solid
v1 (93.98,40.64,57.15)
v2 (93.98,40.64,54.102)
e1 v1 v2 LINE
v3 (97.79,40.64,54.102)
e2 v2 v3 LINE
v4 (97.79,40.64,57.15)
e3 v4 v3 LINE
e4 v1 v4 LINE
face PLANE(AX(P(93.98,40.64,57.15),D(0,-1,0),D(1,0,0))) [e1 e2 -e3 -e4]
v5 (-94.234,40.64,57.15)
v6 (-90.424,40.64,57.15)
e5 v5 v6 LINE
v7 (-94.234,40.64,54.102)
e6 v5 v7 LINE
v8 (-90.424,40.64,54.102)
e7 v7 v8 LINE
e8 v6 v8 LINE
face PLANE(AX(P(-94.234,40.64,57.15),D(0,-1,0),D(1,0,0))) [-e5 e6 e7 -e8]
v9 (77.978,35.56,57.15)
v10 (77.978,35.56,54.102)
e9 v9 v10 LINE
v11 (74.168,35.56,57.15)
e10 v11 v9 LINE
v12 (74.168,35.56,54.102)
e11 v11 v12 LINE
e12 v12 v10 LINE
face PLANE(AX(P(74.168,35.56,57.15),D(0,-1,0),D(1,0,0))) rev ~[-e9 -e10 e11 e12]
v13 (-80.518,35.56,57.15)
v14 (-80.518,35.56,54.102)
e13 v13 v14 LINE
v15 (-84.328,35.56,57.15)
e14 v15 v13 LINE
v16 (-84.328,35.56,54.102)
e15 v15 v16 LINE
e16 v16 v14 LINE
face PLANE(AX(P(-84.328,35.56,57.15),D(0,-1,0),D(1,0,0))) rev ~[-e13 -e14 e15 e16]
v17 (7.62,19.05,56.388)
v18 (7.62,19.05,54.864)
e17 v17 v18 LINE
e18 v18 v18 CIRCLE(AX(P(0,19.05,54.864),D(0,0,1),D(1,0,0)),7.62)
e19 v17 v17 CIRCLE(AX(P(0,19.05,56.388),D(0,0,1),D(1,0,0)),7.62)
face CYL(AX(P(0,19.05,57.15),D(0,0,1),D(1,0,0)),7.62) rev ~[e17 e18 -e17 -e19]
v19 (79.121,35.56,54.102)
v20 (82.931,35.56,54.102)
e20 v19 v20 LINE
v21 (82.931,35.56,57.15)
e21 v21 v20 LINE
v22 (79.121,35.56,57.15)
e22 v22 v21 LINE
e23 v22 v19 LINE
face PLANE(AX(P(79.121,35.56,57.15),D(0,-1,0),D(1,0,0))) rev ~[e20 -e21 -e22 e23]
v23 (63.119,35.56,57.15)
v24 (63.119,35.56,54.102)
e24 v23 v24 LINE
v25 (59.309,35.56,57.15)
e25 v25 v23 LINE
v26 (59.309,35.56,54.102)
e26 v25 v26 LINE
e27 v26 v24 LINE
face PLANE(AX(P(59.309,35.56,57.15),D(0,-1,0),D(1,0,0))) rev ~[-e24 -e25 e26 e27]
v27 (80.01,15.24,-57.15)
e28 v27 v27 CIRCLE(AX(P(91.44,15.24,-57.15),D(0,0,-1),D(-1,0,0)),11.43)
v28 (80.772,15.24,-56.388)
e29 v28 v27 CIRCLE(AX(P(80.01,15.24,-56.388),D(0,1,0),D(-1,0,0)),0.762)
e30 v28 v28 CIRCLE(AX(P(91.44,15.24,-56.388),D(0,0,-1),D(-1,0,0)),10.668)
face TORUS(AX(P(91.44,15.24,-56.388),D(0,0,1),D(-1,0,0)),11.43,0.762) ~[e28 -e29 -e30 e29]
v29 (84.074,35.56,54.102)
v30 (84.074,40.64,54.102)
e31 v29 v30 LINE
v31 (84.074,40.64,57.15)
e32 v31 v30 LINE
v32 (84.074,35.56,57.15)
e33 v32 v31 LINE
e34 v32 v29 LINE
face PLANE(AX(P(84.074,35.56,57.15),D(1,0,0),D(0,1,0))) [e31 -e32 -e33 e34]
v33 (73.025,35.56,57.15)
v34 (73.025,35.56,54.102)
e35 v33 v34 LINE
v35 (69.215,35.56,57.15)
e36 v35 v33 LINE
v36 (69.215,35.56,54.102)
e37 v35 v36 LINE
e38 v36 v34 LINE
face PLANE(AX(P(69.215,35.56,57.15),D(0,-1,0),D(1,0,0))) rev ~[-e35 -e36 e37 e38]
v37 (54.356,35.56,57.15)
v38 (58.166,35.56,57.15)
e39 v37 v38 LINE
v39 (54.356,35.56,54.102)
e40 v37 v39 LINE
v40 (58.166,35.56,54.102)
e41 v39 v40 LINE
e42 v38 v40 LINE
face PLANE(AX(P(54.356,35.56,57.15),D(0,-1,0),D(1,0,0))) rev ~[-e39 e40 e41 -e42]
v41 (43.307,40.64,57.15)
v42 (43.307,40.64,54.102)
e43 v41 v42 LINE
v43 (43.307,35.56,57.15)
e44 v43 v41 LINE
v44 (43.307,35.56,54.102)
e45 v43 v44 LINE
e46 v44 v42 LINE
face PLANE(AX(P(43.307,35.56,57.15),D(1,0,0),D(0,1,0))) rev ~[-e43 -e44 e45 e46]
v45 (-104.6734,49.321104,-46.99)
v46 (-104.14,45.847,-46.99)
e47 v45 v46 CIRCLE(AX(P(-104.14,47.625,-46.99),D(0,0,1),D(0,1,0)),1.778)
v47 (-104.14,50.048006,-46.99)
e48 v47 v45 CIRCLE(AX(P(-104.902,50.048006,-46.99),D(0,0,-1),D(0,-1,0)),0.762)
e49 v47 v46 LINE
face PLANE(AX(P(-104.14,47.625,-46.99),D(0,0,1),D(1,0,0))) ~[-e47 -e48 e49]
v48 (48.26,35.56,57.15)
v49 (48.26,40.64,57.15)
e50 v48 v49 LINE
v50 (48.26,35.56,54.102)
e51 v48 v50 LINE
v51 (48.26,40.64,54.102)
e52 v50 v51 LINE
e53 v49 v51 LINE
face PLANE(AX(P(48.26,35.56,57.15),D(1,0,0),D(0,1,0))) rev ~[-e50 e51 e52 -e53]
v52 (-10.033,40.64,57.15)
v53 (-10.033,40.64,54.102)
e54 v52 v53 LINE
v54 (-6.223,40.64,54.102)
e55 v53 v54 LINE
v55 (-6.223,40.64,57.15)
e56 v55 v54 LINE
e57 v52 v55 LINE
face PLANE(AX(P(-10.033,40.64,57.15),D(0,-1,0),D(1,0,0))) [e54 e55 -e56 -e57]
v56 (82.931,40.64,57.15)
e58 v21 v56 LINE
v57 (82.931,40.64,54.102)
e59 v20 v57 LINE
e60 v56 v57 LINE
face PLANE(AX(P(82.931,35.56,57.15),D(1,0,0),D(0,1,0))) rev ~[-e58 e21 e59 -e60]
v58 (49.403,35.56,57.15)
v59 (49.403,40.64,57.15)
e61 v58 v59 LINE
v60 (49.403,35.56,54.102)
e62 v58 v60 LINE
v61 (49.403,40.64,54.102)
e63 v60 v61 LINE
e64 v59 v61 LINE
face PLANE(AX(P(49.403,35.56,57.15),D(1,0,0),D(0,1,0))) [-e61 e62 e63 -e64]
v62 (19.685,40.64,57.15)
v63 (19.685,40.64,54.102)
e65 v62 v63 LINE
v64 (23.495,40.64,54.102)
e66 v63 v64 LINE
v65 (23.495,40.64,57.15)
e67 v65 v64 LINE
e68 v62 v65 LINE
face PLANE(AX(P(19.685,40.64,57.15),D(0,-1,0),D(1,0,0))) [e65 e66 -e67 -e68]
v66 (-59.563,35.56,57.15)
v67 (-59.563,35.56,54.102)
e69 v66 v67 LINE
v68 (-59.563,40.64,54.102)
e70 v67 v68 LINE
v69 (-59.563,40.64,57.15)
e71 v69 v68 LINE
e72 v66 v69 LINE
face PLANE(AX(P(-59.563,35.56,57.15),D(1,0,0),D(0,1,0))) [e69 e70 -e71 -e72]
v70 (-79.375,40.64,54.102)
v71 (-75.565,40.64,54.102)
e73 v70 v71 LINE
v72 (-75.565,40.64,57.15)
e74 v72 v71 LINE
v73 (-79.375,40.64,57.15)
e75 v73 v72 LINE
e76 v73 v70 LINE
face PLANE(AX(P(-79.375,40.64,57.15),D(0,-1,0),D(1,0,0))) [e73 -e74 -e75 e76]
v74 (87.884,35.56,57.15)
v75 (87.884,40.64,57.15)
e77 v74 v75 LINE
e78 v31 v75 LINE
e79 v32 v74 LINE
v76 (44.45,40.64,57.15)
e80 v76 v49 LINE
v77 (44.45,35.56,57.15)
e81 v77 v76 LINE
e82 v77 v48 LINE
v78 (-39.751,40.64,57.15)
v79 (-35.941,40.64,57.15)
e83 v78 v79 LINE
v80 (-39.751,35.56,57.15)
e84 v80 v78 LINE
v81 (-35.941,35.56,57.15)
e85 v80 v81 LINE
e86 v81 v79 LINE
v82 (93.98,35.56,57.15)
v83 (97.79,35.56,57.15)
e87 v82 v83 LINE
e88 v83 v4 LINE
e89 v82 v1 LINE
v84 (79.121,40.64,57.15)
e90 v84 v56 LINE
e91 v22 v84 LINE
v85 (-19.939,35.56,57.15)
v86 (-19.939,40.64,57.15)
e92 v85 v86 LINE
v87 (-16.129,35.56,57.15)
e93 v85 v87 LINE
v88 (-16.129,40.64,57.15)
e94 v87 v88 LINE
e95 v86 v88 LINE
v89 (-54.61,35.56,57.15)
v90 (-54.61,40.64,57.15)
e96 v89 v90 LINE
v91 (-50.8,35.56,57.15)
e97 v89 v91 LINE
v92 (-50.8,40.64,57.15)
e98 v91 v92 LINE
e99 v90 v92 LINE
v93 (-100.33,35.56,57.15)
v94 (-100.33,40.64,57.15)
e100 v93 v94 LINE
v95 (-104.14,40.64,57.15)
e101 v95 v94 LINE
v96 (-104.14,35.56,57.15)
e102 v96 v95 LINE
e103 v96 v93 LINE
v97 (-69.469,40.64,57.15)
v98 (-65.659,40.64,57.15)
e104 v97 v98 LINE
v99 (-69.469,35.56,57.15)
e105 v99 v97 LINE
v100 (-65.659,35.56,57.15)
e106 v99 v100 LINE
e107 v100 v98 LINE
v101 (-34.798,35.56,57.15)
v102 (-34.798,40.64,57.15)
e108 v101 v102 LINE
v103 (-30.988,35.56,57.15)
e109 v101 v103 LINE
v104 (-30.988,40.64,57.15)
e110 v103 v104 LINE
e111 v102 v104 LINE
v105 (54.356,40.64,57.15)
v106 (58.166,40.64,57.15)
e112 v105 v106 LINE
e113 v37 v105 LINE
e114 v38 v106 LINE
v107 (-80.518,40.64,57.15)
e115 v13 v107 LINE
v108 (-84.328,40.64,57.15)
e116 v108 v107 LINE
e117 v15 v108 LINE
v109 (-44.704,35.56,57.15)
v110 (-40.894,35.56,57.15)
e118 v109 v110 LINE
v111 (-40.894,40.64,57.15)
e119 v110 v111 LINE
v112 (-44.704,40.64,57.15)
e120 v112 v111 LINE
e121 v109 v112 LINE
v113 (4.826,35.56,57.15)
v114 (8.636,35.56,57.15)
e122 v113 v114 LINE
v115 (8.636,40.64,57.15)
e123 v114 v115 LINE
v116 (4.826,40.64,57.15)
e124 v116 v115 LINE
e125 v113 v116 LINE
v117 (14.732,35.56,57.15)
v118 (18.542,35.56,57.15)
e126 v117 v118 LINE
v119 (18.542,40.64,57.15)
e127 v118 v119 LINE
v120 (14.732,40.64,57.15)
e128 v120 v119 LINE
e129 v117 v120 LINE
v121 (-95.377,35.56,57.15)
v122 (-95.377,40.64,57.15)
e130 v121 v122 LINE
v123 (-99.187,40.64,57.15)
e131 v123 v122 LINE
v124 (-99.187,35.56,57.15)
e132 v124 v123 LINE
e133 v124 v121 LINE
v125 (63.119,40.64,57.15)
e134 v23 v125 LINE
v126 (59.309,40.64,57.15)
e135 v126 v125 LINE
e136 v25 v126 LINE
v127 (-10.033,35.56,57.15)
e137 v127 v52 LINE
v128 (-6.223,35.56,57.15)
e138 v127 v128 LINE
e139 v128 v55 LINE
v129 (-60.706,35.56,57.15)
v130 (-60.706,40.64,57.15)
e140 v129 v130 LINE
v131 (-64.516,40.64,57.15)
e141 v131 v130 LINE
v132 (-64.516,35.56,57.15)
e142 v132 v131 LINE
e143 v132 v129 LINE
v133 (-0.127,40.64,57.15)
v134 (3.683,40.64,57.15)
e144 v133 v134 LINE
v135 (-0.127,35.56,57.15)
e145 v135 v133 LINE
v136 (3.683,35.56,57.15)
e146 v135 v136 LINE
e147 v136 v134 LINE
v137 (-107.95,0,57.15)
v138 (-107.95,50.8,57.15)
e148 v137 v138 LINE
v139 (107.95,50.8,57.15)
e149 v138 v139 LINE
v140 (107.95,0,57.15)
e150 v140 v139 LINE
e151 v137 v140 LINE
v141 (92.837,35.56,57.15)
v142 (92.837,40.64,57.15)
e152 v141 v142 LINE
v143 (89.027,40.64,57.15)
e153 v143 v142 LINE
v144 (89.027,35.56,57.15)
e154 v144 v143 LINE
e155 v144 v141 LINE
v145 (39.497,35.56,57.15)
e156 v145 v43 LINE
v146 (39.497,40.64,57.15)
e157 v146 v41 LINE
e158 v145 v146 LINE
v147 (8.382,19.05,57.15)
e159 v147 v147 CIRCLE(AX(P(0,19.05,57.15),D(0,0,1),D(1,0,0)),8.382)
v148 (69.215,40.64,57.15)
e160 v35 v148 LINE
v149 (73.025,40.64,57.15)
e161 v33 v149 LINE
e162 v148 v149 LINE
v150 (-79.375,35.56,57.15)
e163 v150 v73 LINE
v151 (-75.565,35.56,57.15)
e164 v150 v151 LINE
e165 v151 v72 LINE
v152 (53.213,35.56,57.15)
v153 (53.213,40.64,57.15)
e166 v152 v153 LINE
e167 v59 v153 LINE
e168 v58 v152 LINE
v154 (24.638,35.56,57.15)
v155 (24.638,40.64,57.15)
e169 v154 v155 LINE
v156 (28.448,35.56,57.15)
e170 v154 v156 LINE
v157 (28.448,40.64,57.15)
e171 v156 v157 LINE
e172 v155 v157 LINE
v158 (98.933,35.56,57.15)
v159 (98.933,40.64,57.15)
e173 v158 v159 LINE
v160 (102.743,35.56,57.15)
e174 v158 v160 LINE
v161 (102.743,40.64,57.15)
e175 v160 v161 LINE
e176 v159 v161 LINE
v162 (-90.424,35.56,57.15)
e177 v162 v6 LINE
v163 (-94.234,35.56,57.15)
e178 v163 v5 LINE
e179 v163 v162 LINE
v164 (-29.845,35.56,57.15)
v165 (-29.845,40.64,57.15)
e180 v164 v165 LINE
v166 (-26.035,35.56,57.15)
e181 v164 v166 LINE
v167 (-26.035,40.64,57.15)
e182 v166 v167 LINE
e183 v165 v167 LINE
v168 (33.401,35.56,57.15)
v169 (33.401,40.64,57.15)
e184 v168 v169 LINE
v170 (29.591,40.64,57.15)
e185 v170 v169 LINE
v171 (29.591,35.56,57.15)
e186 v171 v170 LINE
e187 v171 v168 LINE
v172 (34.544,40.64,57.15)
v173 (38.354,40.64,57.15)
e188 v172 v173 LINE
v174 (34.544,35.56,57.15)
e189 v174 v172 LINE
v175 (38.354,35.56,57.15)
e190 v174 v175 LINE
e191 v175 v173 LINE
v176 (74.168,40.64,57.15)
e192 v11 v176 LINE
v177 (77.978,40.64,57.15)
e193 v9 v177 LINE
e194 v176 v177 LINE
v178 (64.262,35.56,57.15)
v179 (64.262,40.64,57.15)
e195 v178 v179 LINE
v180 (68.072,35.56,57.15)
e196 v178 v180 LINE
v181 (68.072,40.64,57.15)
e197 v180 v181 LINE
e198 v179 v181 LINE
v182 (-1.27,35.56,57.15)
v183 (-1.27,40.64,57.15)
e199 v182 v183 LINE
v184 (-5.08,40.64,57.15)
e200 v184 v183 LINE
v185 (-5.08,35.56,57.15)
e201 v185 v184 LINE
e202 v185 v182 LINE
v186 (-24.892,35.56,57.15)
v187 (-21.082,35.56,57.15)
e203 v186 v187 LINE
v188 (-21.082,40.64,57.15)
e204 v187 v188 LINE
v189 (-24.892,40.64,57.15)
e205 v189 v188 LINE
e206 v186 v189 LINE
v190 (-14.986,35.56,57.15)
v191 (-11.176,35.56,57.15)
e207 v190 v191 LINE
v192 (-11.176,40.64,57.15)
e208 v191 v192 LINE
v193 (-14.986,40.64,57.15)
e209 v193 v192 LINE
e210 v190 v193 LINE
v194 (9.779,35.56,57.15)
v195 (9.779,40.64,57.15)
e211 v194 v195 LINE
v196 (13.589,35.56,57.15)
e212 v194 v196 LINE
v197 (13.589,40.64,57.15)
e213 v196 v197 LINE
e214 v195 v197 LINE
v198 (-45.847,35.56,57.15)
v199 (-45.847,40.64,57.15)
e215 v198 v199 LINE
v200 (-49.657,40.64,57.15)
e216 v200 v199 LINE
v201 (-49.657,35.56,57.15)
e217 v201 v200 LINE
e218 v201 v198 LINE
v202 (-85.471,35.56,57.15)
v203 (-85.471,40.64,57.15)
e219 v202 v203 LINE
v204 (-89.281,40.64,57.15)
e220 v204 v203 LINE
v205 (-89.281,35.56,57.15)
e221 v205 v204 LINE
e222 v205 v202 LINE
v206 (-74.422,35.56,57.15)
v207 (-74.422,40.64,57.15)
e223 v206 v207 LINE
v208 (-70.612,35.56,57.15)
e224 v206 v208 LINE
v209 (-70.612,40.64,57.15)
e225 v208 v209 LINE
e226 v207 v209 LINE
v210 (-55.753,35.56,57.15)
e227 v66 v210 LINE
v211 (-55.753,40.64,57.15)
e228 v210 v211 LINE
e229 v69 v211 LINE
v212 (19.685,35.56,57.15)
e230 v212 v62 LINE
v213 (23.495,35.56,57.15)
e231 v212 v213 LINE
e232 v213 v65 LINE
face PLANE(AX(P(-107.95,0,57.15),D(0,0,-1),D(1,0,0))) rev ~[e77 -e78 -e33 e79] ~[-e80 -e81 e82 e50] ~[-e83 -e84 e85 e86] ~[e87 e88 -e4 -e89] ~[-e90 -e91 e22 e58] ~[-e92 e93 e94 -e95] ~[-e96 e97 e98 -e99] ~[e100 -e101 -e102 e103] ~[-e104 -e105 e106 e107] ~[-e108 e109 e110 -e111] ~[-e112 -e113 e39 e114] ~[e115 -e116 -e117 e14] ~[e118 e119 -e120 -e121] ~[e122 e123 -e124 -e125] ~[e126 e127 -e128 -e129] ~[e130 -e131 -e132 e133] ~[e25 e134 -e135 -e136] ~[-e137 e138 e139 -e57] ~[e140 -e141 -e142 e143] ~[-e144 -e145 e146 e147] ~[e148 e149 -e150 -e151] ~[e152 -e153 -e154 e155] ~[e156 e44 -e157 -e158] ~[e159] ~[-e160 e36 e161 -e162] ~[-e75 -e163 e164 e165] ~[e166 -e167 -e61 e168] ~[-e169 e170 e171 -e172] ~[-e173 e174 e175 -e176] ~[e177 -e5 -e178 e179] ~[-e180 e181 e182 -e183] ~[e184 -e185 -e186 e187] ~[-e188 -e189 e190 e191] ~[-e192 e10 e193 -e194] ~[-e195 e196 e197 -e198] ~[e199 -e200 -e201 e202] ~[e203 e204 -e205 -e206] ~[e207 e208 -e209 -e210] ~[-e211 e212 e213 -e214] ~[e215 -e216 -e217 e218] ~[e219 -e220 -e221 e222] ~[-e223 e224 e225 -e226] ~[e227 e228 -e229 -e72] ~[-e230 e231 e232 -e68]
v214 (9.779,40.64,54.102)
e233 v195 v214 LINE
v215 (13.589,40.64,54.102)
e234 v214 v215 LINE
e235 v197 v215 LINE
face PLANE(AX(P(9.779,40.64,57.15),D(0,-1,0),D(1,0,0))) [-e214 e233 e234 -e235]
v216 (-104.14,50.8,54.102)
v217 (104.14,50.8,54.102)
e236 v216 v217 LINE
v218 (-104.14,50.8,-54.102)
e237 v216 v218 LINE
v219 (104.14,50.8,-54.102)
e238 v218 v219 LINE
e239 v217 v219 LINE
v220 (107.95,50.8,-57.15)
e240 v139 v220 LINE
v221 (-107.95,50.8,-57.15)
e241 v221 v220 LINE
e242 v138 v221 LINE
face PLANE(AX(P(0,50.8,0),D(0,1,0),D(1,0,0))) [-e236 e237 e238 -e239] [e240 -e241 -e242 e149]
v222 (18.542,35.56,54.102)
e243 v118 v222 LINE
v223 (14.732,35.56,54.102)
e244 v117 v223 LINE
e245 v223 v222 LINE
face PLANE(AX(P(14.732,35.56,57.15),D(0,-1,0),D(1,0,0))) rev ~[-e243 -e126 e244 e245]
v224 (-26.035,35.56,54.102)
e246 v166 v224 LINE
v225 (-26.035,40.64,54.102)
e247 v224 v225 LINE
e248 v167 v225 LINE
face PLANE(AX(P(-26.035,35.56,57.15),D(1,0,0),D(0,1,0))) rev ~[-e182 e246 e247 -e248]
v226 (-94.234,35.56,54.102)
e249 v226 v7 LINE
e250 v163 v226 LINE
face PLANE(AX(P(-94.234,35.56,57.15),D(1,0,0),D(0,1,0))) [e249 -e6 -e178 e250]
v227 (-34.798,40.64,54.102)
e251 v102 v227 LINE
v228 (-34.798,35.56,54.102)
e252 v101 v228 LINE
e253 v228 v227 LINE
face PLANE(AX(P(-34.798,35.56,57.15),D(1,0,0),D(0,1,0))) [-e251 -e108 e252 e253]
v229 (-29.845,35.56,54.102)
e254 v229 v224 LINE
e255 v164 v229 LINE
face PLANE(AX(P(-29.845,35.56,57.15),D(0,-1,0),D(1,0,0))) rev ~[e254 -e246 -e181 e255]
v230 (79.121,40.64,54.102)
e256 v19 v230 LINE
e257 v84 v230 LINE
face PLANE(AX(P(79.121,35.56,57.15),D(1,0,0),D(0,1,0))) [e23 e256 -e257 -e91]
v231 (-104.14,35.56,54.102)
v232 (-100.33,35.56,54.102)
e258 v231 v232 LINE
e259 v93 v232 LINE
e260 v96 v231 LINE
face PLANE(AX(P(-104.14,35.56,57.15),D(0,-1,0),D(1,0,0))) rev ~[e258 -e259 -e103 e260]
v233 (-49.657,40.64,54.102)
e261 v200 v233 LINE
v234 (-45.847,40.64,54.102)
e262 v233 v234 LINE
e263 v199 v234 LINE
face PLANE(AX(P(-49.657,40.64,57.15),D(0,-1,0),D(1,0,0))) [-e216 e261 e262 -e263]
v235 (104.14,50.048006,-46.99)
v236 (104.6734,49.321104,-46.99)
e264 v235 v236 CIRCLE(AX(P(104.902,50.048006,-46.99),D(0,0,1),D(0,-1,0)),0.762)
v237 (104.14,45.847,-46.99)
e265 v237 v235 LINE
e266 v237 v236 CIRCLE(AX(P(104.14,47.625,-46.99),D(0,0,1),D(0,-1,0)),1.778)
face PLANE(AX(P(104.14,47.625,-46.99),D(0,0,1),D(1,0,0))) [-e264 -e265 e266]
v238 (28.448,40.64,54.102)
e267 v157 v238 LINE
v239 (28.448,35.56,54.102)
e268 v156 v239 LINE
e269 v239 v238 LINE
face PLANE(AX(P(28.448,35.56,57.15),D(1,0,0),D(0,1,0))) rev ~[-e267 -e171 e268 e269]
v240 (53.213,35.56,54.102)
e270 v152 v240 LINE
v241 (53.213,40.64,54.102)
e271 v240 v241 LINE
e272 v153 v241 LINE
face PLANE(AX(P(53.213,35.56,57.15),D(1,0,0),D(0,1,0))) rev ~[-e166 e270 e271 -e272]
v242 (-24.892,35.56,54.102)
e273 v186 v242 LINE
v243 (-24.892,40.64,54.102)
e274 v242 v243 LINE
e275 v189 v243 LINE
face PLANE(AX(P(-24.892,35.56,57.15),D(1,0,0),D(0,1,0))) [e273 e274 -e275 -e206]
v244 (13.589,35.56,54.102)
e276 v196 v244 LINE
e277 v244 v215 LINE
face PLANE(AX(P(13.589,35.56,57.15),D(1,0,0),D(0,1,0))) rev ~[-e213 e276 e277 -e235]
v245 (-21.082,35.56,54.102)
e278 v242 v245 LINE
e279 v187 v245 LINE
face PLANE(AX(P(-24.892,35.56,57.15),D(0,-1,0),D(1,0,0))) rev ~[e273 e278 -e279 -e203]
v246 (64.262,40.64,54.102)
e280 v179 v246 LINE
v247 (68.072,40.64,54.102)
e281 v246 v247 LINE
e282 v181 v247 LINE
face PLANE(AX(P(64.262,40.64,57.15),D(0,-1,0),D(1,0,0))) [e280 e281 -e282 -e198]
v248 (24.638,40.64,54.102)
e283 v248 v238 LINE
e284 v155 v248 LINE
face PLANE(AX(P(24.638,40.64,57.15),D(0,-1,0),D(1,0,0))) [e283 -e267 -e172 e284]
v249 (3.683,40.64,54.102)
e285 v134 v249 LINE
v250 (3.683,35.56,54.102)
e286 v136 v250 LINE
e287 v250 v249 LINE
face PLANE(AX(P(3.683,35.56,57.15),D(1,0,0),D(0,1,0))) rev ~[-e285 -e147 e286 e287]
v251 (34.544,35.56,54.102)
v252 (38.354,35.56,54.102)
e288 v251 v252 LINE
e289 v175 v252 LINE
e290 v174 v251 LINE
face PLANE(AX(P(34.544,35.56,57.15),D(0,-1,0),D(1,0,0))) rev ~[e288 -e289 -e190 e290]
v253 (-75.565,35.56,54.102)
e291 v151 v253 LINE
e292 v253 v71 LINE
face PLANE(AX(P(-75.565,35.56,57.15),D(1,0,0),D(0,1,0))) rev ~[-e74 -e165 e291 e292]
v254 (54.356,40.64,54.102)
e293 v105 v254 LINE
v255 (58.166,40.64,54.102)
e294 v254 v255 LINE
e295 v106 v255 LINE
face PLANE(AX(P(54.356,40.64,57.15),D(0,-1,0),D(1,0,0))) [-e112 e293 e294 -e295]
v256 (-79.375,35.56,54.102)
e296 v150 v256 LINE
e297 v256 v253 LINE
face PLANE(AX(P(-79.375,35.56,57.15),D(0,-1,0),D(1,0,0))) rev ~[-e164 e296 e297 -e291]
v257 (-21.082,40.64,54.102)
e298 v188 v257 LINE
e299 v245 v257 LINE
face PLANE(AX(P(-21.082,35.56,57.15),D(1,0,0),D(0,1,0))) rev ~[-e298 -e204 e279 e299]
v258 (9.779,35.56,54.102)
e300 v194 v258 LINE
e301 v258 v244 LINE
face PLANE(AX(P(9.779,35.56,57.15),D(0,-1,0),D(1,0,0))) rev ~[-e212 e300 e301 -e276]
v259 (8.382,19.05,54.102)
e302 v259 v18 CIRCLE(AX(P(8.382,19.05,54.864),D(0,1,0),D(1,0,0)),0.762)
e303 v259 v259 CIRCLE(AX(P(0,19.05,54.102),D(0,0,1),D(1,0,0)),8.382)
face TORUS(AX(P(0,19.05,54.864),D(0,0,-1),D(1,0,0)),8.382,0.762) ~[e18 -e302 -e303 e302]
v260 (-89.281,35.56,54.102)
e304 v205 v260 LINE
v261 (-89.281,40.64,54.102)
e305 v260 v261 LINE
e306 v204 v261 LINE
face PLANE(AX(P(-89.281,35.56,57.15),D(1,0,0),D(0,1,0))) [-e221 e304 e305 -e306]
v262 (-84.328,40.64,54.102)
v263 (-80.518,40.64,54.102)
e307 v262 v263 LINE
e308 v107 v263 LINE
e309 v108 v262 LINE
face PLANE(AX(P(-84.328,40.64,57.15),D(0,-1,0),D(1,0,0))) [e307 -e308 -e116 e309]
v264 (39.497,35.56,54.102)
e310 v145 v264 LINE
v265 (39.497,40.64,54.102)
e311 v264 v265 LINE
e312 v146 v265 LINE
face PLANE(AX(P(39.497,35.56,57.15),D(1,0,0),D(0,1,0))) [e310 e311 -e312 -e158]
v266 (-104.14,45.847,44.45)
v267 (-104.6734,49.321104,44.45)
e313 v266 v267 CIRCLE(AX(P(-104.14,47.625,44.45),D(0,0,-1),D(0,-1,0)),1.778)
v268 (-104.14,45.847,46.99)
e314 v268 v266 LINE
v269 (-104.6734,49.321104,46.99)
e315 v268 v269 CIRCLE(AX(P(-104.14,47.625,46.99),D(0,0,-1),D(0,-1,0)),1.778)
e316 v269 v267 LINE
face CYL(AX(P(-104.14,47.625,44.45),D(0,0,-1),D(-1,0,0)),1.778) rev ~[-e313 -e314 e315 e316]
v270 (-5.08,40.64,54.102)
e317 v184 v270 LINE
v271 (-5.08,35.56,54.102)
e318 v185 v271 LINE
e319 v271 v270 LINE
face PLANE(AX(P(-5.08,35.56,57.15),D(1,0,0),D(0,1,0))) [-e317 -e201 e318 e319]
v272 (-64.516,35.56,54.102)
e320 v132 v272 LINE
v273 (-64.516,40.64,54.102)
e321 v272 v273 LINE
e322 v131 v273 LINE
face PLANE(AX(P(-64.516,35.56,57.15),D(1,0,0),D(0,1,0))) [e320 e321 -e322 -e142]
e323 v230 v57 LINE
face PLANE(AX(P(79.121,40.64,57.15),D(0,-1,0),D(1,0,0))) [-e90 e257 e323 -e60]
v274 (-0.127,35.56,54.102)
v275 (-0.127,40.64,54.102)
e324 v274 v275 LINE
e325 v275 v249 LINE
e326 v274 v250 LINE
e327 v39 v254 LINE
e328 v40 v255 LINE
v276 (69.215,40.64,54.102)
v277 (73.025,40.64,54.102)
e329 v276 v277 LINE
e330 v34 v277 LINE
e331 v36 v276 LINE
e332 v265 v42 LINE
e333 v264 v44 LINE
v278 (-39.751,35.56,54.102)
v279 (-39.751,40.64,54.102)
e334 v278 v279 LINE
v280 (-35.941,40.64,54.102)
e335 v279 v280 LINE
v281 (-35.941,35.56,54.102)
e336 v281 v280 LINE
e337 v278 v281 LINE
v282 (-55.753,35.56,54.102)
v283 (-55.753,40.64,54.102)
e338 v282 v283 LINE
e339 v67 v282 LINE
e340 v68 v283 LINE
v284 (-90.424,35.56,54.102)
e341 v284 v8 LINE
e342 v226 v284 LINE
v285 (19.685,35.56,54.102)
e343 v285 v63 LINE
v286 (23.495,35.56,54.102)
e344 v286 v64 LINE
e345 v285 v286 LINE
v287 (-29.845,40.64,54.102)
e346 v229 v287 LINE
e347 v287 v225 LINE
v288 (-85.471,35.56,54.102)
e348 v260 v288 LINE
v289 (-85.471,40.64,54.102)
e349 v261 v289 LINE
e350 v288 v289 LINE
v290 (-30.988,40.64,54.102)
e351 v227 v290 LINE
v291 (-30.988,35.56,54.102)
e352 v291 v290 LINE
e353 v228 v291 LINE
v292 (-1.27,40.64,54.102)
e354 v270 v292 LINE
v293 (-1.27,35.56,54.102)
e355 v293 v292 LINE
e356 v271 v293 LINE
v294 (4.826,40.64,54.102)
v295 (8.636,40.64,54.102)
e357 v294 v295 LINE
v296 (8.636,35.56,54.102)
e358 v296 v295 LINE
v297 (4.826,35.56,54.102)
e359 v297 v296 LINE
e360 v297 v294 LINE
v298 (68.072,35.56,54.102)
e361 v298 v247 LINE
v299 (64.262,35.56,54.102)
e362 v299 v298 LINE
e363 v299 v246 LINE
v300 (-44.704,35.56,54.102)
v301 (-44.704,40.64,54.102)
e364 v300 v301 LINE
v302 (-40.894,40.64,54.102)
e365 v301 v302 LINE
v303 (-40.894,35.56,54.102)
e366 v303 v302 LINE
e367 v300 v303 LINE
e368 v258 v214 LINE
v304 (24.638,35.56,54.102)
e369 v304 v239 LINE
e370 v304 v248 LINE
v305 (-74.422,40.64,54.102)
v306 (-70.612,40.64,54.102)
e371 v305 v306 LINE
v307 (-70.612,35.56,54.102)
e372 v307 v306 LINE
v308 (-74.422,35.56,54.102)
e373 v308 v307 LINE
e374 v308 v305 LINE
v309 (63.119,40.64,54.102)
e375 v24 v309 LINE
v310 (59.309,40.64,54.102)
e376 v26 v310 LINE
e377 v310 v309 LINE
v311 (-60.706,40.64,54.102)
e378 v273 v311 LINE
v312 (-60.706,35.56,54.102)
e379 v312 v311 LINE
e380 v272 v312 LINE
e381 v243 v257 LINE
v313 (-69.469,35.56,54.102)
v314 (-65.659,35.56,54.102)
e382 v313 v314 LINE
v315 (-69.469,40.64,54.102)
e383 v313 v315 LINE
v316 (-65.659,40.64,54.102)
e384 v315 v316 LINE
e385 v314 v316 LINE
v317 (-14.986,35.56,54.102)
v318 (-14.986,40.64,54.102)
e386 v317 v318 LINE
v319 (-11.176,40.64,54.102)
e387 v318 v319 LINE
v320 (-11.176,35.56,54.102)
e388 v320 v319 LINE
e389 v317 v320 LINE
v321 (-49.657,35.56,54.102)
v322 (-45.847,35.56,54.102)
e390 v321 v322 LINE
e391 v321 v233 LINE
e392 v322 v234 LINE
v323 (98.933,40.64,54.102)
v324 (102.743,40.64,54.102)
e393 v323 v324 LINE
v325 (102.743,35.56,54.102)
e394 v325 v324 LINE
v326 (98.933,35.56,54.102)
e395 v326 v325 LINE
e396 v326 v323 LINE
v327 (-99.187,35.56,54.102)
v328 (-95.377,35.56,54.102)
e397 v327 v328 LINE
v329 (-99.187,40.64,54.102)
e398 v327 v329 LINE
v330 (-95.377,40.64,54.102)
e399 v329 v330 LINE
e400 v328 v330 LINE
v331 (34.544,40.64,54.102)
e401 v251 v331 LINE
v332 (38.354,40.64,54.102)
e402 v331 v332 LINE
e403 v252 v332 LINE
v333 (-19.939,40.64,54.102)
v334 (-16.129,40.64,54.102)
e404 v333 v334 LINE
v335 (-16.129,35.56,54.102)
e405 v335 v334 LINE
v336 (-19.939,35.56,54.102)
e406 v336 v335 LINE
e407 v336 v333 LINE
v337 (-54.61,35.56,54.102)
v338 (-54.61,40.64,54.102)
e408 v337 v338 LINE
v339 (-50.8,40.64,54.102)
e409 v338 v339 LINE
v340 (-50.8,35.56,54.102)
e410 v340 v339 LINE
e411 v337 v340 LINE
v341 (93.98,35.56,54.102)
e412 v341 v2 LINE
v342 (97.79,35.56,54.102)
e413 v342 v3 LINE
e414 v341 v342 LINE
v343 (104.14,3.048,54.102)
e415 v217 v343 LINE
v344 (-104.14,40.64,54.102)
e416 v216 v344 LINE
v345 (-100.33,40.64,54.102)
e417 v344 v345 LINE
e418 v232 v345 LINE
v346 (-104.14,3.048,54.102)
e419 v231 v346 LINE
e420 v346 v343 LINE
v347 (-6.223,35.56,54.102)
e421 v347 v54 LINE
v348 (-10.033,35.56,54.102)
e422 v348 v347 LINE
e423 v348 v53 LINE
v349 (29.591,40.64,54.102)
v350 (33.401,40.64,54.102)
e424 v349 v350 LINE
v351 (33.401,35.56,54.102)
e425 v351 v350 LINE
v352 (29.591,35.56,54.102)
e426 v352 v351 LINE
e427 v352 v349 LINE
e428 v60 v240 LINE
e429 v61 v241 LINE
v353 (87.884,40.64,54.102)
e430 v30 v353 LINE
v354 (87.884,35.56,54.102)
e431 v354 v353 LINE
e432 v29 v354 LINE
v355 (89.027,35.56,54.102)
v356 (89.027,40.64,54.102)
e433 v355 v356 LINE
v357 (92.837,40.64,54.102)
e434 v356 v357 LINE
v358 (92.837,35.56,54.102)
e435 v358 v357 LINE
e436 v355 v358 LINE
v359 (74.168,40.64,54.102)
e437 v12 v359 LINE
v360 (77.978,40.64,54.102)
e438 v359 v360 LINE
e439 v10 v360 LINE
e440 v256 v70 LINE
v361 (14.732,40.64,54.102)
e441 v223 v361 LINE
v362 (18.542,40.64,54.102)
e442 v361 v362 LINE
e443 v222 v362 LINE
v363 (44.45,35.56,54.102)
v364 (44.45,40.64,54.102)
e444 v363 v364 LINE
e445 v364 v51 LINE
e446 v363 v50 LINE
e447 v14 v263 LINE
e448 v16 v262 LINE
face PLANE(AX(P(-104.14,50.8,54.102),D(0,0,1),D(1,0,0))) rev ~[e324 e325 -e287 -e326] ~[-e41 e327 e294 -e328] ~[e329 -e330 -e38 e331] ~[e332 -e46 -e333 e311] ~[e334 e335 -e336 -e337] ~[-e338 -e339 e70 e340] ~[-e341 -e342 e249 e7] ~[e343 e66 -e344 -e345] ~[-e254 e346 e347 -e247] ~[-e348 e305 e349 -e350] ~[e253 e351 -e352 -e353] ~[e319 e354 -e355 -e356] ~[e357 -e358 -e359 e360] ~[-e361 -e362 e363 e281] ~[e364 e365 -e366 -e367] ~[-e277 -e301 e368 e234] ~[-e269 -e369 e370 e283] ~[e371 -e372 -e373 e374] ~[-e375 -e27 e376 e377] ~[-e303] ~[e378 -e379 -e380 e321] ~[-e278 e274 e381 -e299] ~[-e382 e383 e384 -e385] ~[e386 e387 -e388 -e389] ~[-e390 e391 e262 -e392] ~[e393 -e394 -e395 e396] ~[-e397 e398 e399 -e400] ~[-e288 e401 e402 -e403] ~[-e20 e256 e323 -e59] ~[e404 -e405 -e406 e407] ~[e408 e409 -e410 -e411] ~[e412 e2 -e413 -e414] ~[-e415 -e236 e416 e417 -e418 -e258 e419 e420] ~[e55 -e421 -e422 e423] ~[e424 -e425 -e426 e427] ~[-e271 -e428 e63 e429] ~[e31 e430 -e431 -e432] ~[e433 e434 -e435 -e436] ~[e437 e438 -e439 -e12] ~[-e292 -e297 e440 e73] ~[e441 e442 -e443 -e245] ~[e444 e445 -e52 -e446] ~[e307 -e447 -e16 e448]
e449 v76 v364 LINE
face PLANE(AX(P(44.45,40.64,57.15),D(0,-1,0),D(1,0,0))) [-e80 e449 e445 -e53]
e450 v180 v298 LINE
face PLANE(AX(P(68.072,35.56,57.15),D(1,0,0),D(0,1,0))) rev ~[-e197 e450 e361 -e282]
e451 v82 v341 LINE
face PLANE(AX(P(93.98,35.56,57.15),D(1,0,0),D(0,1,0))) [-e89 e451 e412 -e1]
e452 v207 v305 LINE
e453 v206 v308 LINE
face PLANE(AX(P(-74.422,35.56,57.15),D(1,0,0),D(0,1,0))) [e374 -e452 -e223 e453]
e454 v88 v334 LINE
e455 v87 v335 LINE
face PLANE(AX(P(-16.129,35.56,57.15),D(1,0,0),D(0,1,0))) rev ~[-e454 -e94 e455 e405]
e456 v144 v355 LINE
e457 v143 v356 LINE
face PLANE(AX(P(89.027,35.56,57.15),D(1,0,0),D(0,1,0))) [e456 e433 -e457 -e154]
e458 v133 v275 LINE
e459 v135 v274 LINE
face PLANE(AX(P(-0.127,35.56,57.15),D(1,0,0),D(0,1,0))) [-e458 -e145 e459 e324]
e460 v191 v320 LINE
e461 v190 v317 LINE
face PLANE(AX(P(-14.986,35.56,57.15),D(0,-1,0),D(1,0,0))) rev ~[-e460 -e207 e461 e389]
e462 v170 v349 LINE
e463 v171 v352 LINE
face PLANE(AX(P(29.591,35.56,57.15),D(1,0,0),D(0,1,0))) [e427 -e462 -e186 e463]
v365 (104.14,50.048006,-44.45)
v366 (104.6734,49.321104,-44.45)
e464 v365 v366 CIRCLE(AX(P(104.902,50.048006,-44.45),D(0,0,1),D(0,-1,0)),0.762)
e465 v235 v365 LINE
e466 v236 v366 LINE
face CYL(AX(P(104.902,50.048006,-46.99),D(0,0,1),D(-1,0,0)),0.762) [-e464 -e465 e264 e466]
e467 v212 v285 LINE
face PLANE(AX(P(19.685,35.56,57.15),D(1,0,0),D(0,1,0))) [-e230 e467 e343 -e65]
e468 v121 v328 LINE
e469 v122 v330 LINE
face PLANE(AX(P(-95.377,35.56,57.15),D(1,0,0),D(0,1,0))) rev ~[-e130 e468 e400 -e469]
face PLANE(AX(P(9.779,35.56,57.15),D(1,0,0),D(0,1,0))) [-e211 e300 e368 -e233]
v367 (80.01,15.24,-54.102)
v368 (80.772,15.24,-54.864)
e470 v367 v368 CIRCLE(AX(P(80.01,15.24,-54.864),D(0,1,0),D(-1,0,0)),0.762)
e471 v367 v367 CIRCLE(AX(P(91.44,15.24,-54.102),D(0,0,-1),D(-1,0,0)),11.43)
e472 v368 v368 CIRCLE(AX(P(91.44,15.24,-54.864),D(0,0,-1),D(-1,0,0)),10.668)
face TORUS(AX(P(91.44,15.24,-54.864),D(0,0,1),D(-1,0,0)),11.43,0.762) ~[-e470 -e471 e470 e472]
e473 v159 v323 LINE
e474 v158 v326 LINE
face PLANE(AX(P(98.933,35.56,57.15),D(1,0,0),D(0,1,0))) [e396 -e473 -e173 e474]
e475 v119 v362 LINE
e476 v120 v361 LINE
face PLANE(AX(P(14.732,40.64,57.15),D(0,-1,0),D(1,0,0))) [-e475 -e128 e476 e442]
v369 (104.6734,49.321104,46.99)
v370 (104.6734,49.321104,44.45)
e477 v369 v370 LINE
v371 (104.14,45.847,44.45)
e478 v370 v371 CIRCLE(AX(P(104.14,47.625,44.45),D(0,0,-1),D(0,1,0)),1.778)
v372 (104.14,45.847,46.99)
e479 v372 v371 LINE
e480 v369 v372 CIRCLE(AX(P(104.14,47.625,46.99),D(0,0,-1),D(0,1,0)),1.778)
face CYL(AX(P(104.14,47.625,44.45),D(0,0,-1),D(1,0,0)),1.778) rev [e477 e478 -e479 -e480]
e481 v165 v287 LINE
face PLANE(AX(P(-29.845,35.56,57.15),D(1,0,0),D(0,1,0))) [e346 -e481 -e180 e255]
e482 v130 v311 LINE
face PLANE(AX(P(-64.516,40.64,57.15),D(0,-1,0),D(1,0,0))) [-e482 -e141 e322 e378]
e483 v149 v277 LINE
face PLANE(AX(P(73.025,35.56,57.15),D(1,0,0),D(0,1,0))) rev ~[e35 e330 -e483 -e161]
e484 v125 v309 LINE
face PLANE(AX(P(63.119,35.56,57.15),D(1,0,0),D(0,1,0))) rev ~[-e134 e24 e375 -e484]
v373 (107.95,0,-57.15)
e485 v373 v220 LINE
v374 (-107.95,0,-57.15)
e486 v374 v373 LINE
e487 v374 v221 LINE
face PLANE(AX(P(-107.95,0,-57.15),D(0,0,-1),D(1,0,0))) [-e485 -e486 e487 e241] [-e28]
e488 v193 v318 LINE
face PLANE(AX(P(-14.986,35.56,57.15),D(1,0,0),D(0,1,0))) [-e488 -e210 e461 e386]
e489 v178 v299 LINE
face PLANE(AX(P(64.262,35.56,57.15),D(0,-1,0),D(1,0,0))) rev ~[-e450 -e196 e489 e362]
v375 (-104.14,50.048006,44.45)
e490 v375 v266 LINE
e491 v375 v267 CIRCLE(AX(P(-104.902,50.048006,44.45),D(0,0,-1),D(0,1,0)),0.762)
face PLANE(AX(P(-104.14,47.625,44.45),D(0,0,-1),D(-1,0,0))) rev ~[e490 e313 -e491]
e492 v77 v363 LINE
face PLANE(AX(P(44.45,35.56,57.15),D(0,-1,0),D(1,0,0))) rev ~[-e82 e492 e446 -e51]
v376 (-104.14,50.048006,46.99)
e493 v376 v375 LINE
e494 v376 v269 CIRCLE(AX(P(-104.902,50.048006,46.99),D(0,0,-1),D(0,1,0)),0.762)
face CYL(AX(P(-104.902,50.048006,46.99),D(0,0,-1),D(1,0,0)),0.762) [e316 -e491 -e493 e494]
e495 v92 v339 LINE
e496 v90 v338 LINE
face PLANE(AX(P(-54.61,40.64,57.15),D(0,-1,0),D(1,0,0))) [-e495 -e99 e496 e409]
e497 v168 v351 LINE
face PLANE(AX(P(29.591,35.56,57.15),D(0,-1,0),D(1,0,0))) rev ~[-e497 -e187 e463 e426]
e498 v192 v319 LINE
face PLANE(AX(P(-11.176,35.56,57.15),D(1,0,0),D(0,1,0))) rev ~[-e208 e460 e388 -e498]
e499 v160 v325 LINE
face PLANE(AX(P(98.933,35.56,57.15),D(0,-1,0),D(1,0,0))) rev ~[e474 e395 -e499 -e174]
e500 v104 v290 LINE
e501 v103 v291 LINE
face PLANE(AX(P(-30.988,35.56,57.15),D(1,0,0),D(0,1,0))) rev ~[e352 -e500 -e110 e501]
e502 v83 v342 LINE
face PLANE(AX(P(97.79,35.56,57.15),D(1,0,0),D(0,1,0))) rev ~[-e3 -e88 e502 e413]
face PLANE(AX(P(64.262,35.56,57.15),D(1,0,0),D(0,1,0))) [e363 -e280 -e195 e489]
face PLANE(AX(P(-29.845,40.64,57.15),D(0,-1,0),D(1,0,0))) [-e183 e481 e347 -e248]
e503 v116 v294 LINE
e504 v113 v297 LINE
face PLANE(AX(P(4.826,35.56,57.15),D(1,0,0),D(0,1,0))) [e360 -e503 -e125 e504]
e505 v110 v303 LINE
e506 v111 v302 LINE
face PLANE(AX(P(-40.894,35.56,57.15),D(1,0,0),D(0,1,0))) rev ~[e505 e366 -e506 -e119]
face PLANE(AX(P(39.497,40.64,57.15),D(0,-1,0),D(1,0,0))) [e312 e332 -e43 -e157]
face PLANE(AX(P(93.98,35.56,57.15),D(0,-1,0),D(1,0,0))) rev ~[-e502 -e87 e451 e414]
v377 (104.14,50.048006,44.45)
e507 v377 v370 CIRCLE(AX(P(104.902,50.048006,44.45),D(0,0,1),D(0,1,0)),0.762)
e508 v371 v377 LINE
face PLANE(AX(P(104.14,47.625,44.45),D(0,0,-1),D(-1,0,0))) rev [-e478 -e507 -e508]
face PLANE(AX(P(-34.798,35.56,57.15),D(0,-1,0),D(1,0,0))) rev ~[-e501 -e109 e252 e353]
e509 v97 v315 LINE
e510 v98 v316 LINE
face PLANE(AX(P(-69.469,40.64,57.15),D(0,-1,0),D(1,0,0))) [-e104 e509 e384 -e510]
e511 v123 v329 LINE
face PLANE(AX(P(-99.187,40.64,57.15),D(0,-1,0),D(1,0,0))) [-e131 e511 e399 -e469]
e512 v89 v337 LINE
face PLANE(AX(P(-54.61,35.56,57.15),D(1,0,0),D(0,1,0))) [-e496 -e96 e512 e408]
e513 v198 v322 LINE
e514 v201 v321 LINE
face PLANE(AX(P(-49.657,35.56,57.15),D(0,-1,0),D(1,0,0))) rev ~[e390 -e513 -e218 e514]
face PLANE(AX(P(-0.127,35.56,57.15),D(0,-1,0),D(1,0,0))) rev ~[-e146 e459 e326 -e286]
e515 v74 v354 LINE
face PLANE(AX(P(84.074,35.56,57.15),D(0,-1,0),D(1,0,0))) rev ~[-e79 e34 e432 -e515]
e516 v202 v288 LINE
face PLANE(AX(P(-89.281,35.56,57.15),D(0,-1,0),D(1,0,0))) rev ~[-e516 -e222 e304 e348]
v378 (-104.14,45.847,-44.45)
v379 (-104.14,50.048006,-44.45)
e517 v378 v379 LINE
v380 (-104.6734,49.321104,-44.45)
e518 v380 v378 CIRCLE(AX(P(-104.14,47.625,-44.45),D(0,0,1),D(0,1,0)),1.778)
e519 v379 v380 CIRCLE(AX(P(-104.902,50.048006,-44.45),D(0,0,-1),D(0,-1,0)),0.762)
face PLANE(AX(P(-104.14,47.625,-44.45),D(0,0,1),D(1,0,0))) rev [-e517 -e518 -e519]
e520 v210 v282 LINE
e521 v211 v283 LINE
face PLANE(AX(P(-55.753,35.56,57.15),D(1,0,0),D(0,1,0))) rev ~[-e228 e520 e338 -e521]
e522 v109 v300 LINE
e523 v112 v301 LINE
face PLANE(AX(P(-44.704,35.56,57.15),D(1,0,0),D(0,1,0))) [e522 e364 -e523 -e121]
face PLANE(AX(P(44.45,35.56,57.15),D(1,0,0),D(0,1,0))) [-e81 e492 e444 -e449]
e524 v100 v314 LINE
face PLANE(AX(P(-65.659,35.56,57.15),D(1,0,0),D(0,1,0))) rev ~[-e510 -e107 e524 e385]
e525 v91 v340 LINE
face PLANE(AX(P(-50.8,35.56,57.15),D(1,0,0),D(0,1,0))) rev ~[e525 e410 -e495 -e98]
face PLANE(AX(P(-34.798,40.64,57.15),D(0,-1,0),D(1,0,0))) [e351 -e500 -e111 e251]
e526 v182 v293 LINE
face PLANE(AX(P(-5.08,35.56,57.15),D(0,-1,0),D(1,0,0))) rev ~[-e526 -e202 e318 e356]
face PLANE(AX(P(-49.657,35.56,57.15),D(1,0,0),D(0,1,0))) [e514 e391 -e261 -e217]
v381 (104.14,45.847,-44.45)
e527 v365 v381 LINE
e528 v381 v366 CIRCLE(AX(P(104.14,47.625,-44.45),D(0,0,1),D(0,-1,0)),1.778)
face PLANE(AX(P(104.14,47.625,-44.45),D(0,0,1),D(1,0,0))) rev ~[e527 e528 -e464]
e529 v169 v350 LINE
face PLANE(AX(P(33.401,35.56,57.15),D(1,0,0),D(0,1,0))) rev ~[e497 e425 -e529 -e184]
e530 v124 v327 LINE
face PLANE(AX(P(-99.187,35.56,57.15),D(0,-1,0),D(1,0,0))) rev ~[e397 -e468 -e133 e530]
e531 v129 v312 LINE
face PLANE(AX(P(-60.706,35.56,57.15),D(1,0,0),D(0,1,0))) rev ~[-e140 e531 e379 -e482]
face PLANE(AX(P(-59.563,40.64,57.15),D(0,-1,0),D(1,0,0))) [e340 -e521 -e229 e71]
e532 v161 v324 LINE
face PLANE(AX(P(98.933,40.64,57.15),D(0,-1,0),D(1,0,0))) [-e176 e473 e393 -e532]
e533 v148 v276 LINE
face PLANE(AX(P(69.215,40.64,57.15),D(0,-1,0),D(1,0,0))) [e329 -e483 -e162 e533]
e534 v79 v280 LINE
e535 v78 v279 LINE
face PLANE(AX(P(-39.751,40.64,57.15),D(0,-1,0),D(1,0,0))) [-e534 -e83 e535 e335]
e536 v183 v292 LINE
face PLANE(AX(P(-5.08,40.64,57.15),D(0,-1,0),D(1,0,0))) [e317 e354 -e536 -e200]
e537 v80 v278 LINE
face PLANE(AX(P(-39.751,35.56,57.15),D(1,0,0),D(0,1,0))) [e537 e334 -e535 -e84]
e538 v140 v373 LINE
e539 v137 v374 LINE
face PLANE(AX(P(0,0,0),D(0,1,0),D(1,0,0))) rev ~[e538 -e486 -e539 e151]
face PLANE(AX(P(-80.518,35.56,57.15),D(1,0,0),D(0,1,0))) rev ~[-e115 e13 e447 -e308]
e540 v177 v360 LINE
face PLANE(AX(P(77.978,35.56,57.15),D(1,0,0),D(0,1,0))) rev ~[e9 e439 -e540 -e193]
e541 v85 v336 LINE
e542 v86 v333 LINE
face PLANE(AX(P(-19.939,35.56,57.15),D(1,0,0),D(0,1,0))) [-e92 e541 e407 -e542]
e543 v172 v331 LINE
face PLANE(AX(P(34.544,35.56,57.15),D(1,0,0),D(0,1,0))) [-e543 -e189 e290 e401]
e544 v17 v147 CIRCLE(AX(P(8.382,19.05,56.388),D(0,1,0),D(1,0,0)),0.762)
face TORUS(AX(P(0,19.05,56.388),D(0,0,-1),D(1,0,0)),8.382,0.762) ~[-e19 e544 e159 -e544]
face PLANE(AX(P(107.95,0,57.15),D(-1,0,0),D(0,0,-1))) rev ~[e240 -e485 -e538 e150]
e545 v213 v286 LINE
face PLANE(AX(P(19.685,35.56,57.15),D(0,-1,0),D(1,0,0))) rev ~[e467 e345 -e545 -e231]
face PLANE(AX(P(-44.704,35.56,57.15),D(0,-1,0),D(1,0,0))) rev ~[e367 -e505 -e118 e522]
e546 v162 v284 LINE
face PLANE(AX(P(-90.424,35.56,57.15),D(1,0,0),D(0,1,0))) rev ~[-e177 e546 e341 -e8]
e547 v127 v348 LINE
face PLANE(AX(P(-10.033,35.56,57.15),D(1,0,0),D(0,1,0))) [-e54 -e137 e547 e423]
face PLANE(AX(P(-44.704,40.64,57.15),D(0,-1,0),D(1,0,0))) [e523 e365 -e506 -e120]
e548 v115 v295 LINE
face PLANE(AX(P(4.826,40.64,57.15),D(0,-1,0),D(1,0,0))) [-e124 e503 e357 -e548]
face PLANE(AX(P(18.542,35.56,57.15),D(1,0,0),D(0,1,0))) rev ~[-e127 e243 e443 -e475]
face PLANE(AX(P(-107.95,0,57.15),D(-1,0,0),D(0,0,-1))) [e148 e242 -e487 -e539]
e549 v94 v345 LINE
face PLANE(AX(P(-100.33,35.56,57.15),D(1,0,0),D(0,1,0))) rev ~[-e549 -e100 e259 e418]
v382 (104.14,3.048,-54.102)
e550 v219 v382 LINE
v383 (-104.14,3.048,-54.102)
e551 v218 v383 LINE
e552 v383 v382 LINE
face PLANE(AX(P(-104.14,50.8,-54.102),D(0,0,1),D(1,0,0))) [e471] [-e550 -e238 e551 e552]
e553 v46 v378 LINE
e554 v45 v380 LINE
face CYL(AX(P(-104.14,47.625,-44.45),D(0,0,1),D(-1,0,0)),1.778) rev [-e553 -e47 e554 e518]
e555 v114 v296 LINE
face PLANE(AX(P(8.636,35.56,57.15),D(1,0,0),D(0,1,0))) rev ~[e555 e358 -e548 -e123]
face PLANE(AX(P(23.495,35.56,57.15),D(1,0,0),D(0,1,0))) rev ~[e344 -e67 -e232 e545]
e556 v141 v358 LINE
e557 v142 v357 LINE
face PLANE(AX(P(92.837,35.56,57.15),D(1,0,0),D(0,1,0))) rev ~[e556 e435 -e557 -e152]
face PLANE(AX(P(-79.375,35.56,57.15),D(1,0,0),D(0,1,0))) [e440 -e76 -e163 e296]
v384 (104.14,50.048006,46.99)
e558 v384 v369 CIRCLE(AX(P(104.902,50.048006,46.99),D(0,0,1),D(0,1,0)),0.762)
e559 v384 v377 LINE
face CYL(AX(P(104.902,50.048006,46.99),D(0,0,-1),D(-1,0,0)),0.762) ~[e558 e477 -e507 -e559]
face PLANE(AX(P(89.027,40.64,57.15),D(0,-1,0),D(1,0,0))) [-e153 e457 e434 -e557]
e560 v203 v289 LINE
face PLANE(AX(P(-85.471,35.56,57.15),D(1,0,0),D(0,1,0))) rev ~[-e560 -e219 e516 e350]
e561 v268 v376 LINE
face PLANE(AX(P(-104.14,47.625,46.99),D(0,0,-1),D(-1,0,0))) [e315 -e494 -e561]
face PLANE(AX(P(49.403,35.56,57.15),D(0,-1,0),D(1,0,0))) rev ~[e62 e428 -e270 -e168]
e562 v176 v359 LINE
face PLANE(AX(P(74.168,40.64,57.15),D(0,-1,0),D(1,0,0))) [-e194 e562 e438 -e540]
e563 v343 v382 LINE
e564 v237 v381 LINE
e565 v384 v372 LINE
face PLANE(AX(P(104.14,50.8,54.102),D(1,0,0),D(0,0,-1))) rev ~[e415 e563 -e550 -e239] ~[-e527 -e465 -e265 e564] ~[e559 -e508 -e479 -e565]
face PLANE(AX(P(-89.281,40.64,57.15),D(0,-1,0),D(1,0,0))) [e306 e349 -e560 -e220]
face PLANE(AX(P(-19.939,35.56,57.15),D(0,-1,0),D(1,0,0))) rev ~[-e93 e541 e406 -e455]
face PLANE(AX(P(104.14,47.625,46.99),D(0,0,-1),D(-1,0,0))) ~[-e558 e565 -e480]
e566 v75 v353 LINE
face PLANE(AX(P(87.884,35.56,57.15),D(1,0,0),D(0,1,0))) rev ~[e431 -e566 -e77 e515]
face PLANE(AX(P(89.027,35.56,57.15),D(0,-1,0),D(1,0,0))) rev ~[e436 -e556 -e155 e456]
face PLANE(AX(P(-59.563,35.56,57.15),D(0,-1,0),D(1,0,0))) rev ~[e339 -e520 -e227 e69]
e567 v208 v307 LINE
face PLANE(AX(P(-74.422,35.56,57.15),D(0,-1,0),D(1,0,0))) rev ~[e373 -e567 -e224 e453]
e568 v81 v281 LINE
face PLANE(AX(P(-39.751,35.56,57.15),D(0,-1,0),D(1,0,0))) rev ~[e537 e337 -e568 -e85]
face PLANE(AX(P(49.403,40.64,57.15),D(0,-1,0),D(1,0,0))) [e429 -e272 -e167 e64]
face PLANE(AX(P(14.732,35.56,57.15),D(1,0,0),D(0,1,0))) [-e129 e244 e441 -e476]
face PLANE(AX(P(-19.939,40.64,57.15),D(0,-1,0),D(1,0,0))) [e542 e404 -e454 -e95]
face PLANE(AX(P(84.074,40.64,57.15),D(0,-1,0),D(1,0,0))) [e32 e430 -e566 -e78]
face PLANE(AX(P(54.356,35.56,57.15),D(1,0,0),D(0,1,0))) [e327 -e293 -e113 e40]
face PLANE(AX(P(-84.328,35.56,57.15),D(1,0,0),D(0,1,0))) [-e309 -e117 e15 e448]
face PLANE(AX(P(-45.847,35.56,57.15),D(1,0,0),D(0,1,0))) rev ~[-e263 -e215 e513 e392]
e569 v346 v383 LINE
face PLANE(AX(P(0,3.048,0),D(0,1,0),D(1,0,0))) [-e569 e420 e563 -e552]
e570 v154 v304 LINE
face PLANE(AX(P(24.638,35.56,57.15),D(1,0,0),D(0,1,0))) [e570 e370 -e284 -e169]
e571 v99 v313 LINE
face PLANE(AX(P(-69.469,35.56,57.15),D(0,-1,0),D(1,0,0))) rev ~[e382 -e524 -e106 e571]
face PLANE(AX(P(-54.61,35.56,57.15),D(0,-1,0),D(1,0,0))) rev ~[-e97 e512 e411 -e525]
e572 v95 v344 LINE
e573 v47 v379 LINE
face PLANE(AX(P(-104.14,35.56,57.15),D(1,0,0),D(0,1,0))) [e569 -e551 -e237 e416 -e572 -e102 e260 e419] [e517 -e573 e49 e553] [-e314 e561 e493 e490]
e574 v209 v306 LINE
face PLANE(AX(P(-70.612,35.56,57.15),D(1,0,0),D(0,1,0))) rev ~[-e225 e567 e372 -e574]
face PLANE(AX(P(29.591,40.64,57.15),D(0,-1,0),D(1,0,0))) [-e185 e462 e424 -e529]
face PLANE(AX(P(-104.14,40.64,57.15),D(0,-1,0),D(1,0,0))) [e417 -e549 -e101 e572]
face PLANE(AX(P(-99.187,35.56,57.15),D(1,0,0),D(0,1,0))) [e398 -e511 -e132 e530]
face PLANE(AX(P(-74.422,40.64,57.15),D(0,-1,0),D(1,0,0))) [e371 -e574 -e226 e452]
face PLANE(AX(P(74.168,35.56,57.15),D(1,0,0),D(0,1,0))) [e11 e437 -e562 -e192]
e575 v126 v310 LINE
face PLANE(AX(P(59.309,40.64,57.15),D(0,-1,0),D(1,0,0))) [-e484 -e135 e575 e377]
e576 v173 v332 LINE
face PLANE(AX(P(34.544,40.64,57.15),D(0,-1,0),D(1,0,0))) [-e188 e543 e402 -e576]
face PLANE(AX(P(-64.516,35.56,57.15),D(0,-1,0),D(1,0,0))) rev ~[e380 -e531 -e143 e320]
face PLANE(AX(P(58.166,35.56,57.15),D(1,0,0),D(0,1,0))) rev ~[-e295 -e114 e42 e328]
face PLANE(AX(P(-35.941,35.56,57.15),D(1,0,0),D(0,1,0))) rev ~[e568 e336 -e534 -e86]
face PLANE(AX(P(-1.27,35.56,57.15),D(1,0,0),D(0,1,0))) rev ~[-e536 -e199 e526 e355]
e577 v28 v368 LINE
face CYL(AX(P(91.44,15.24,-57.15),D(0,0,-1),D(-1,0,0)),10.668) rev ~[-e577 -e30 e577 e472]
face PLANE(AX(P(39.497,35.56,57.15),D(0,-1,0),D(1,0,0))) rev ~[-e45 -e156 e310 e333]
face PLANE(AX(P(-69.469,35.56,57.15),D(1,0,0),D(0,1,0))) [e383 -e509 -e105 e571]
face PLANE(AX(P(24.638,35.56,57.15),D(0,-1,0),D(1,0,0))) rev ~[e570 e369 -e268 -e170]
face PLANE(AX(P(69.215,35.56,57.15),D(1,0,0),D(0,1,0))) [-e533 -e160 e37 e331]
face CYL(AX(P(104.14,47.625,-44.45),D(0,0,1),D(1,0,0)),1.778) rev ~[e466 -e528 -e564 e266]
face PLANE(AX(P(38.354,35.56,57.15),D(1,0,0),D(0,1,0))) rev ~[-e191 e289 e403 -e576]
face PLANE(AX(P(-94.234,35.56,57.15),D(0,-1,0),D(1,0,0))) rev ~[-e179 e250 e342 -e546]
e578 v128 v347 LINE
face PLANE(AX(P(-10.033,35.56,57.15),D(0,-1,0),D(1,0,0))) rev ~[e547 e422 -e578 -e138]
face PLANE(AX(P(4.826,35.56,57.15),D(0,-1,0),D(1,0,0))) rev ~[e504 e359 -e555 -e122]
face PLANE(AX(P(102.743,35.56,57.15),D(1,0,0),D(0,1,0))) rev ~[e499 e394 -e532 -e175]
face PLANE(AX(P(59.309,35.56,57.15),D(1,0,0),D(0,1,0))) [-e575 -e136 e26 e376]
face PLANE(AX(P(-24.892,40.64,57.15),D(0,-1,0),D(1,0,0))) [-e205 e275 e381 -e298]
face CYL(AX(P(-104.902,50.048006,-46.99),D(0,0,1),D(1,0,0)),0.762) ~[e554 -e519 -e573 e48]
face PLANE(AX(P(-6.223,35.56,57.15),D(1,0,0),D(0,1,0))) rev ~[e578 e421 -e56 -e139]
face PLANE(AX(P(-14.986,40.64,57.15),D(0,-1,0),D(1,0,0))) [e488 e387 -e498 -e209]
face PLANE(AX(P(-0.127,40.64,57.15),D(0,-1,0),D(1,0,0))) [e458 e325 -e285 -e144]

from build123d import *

# Parameters (mm, degrees)
SKETCH1_W               = 215.9
SKETCH1_H               = 114.3
BOSS_EXTRUDE1_DEPTH     = 50.8
SKETCH2_W               = 208.28
SKETCH2_H               = 108.204
CUT_EXTRUDE1_DEPTH      = 47.752
SKETCH3_W               = 3.81
SKETCH3_H               = 5.08
CUT_EXTRUDE2_DEPTH      = 7.62
LPATTERN1_COUNT         = 42
LPATTERN1_PITCH         = 4.953
SKETCH4_R               = 7.62
CUT_EXTRUDE3_DEPTH      = 7.62
SKETCH6_R               = 10.668
CUT_EXTRUDE5_DEPTH      = 7.62
SKETCH12_R              = 1.778
CUT_EXTRUDE7_DEPTH      = 2.54
MIRROR2_COPY_1_SKETCH_R = 1.778
MIRROR2_COPY_1_DEPTH    = 2.54
FILLET1_R               = 0.762
FILLET3_R               = 0.762


with BuildPart() as part:
    # Sketch1 → Boss-Extrude1 (new body)
    with BuildSketch(Plane(origin=(0, 0, 0), x_dir=(1, 0, 0), z_dir=(0, 1, 0))):
        Rectangle(SKETCH1_W, SKETCH1_H)
    extrude(amount=BOSS_EXTRUDE1_DEPTH)

    # Sketch2 → Cut-Extrude1 (cut)
    with BuildSketch(Plane(origin=(0, 50.8, 0), x_dir=(1, 0, 0), z_dir=(0, 1, 0))):
        Rectangle(SKETCH2_W, SKETCH2_H)
    extrude(amount=-CUT_EXTRUDE1_DEPTH, mode=Mode.SUBTRACT)

    # Sketch3 → Cut-Extrude2 (cut)
    with BuildSketch(Plane.XY.offset(57.15)):
        with Locations((-102.235, 38.1)):
            Rectangle(SKETCH3_W, SKETCH3_H)
    cut_extrude2 = extrude(amount=-CUT_EXTRUDE2_DEPTH, mode=Mode.SUBTRACT)

    # LPattern1: Cut-Extrude2 ×42
    with Locations(*[(i * LPATTERN1_PITCH, 0, 0) for i in range(1, LPATTERN1_COUNT)]):
        add(cut_extrude2, mode=Mode.SUBTRACT)

    # Sketch4 → Cut-Extrude3 (cut)
    with BuildSketch(Plane.XY.offset(57.15)):
        with Locations((0, 19.05)):
            Circle(SKETCH4_R)
    extrude(amount=-CUT_EXTRUDE3_DEPTH, mode=Mode.SUBTRACT)

    # Sketch6 → Cut-Extrude5 (cut)
    with BuildSketch(Plane(origin=(0, 0, -57.15), x_dir=(-1, 0, 0), z_dir=(0, 0, -1))):
        with Locations((-91.44, 15.24)):
            Circle(SKETCH6_R)
    extrude(amount=-CUT_EXTRUDE5_DEPTH, mode=Mode.SUBTRACT)

    # Sketch12 → Cut-Extrude7 (cut)
    with BuildSketch(Plane(origin=(0, 0, 44.45), x_dir=(-1, 0, 0), z_dir=(0, 0, -1))):
        with Locations((104.14, 47.625)):
            Circle(SKETCH12_R)
    cut_extrude7 = extrude(amount=-CUT_EXTRUDE7_DEPTH, mode=Mode.SUBTRACT)

    # Mirror1: Cut-Extrude7 across plane
    add(cut_extrude7.mirror(Plane(origin=(0, 0, 0), x_dir=(0, 0, 1), z_dir=(1, 0, 0))), mode=Mode.SUBTRACT)

    # Mirror2: Cut-Extrude7 across plane
    add(cut_extrude7.mirror(Plane.XY), mode=Mode.SUBTRACT)

    # Mirror2 copy 1 sketch → Mirror2 copy 1 (cut)
    with BuildSketch(Plane.XY.offset(-44.45)):
        with Locations((104.14, 47.625)):
            Circle(MIRROR2_COPY_1_SKETCH_R)
    extrude(amount=-MIRROR2_COPY_1_DEPTH, mode=Mode.SUBTRACT)

    # Fillet1
    fillet1_edges = [part.edges().sort_by_distance(p)[0] for p in [
        (-7.62, 19.05, 54.102),
        (-7.62, 19.05, 57.15),
        (102.108, 15.24, -54.102),
        (102.108, 15.24, -57.15),
    ]]
    fillet(fillet1_edges, radius=FILLET1_R)

    # Fillet3
    fillet3_edges = [part.edges().sort_by_distance(p)[0] for p in [
        (-104.14, 49.403, 45.72),
        (104.14, 49.403, 45.72),
        (104.14, 49.403, -45.72),
        (-104.14, 49.403, -45.72),
    ]]
    fillet(fillet3_edges, radius=FILLET3_R)


solid = part.part
